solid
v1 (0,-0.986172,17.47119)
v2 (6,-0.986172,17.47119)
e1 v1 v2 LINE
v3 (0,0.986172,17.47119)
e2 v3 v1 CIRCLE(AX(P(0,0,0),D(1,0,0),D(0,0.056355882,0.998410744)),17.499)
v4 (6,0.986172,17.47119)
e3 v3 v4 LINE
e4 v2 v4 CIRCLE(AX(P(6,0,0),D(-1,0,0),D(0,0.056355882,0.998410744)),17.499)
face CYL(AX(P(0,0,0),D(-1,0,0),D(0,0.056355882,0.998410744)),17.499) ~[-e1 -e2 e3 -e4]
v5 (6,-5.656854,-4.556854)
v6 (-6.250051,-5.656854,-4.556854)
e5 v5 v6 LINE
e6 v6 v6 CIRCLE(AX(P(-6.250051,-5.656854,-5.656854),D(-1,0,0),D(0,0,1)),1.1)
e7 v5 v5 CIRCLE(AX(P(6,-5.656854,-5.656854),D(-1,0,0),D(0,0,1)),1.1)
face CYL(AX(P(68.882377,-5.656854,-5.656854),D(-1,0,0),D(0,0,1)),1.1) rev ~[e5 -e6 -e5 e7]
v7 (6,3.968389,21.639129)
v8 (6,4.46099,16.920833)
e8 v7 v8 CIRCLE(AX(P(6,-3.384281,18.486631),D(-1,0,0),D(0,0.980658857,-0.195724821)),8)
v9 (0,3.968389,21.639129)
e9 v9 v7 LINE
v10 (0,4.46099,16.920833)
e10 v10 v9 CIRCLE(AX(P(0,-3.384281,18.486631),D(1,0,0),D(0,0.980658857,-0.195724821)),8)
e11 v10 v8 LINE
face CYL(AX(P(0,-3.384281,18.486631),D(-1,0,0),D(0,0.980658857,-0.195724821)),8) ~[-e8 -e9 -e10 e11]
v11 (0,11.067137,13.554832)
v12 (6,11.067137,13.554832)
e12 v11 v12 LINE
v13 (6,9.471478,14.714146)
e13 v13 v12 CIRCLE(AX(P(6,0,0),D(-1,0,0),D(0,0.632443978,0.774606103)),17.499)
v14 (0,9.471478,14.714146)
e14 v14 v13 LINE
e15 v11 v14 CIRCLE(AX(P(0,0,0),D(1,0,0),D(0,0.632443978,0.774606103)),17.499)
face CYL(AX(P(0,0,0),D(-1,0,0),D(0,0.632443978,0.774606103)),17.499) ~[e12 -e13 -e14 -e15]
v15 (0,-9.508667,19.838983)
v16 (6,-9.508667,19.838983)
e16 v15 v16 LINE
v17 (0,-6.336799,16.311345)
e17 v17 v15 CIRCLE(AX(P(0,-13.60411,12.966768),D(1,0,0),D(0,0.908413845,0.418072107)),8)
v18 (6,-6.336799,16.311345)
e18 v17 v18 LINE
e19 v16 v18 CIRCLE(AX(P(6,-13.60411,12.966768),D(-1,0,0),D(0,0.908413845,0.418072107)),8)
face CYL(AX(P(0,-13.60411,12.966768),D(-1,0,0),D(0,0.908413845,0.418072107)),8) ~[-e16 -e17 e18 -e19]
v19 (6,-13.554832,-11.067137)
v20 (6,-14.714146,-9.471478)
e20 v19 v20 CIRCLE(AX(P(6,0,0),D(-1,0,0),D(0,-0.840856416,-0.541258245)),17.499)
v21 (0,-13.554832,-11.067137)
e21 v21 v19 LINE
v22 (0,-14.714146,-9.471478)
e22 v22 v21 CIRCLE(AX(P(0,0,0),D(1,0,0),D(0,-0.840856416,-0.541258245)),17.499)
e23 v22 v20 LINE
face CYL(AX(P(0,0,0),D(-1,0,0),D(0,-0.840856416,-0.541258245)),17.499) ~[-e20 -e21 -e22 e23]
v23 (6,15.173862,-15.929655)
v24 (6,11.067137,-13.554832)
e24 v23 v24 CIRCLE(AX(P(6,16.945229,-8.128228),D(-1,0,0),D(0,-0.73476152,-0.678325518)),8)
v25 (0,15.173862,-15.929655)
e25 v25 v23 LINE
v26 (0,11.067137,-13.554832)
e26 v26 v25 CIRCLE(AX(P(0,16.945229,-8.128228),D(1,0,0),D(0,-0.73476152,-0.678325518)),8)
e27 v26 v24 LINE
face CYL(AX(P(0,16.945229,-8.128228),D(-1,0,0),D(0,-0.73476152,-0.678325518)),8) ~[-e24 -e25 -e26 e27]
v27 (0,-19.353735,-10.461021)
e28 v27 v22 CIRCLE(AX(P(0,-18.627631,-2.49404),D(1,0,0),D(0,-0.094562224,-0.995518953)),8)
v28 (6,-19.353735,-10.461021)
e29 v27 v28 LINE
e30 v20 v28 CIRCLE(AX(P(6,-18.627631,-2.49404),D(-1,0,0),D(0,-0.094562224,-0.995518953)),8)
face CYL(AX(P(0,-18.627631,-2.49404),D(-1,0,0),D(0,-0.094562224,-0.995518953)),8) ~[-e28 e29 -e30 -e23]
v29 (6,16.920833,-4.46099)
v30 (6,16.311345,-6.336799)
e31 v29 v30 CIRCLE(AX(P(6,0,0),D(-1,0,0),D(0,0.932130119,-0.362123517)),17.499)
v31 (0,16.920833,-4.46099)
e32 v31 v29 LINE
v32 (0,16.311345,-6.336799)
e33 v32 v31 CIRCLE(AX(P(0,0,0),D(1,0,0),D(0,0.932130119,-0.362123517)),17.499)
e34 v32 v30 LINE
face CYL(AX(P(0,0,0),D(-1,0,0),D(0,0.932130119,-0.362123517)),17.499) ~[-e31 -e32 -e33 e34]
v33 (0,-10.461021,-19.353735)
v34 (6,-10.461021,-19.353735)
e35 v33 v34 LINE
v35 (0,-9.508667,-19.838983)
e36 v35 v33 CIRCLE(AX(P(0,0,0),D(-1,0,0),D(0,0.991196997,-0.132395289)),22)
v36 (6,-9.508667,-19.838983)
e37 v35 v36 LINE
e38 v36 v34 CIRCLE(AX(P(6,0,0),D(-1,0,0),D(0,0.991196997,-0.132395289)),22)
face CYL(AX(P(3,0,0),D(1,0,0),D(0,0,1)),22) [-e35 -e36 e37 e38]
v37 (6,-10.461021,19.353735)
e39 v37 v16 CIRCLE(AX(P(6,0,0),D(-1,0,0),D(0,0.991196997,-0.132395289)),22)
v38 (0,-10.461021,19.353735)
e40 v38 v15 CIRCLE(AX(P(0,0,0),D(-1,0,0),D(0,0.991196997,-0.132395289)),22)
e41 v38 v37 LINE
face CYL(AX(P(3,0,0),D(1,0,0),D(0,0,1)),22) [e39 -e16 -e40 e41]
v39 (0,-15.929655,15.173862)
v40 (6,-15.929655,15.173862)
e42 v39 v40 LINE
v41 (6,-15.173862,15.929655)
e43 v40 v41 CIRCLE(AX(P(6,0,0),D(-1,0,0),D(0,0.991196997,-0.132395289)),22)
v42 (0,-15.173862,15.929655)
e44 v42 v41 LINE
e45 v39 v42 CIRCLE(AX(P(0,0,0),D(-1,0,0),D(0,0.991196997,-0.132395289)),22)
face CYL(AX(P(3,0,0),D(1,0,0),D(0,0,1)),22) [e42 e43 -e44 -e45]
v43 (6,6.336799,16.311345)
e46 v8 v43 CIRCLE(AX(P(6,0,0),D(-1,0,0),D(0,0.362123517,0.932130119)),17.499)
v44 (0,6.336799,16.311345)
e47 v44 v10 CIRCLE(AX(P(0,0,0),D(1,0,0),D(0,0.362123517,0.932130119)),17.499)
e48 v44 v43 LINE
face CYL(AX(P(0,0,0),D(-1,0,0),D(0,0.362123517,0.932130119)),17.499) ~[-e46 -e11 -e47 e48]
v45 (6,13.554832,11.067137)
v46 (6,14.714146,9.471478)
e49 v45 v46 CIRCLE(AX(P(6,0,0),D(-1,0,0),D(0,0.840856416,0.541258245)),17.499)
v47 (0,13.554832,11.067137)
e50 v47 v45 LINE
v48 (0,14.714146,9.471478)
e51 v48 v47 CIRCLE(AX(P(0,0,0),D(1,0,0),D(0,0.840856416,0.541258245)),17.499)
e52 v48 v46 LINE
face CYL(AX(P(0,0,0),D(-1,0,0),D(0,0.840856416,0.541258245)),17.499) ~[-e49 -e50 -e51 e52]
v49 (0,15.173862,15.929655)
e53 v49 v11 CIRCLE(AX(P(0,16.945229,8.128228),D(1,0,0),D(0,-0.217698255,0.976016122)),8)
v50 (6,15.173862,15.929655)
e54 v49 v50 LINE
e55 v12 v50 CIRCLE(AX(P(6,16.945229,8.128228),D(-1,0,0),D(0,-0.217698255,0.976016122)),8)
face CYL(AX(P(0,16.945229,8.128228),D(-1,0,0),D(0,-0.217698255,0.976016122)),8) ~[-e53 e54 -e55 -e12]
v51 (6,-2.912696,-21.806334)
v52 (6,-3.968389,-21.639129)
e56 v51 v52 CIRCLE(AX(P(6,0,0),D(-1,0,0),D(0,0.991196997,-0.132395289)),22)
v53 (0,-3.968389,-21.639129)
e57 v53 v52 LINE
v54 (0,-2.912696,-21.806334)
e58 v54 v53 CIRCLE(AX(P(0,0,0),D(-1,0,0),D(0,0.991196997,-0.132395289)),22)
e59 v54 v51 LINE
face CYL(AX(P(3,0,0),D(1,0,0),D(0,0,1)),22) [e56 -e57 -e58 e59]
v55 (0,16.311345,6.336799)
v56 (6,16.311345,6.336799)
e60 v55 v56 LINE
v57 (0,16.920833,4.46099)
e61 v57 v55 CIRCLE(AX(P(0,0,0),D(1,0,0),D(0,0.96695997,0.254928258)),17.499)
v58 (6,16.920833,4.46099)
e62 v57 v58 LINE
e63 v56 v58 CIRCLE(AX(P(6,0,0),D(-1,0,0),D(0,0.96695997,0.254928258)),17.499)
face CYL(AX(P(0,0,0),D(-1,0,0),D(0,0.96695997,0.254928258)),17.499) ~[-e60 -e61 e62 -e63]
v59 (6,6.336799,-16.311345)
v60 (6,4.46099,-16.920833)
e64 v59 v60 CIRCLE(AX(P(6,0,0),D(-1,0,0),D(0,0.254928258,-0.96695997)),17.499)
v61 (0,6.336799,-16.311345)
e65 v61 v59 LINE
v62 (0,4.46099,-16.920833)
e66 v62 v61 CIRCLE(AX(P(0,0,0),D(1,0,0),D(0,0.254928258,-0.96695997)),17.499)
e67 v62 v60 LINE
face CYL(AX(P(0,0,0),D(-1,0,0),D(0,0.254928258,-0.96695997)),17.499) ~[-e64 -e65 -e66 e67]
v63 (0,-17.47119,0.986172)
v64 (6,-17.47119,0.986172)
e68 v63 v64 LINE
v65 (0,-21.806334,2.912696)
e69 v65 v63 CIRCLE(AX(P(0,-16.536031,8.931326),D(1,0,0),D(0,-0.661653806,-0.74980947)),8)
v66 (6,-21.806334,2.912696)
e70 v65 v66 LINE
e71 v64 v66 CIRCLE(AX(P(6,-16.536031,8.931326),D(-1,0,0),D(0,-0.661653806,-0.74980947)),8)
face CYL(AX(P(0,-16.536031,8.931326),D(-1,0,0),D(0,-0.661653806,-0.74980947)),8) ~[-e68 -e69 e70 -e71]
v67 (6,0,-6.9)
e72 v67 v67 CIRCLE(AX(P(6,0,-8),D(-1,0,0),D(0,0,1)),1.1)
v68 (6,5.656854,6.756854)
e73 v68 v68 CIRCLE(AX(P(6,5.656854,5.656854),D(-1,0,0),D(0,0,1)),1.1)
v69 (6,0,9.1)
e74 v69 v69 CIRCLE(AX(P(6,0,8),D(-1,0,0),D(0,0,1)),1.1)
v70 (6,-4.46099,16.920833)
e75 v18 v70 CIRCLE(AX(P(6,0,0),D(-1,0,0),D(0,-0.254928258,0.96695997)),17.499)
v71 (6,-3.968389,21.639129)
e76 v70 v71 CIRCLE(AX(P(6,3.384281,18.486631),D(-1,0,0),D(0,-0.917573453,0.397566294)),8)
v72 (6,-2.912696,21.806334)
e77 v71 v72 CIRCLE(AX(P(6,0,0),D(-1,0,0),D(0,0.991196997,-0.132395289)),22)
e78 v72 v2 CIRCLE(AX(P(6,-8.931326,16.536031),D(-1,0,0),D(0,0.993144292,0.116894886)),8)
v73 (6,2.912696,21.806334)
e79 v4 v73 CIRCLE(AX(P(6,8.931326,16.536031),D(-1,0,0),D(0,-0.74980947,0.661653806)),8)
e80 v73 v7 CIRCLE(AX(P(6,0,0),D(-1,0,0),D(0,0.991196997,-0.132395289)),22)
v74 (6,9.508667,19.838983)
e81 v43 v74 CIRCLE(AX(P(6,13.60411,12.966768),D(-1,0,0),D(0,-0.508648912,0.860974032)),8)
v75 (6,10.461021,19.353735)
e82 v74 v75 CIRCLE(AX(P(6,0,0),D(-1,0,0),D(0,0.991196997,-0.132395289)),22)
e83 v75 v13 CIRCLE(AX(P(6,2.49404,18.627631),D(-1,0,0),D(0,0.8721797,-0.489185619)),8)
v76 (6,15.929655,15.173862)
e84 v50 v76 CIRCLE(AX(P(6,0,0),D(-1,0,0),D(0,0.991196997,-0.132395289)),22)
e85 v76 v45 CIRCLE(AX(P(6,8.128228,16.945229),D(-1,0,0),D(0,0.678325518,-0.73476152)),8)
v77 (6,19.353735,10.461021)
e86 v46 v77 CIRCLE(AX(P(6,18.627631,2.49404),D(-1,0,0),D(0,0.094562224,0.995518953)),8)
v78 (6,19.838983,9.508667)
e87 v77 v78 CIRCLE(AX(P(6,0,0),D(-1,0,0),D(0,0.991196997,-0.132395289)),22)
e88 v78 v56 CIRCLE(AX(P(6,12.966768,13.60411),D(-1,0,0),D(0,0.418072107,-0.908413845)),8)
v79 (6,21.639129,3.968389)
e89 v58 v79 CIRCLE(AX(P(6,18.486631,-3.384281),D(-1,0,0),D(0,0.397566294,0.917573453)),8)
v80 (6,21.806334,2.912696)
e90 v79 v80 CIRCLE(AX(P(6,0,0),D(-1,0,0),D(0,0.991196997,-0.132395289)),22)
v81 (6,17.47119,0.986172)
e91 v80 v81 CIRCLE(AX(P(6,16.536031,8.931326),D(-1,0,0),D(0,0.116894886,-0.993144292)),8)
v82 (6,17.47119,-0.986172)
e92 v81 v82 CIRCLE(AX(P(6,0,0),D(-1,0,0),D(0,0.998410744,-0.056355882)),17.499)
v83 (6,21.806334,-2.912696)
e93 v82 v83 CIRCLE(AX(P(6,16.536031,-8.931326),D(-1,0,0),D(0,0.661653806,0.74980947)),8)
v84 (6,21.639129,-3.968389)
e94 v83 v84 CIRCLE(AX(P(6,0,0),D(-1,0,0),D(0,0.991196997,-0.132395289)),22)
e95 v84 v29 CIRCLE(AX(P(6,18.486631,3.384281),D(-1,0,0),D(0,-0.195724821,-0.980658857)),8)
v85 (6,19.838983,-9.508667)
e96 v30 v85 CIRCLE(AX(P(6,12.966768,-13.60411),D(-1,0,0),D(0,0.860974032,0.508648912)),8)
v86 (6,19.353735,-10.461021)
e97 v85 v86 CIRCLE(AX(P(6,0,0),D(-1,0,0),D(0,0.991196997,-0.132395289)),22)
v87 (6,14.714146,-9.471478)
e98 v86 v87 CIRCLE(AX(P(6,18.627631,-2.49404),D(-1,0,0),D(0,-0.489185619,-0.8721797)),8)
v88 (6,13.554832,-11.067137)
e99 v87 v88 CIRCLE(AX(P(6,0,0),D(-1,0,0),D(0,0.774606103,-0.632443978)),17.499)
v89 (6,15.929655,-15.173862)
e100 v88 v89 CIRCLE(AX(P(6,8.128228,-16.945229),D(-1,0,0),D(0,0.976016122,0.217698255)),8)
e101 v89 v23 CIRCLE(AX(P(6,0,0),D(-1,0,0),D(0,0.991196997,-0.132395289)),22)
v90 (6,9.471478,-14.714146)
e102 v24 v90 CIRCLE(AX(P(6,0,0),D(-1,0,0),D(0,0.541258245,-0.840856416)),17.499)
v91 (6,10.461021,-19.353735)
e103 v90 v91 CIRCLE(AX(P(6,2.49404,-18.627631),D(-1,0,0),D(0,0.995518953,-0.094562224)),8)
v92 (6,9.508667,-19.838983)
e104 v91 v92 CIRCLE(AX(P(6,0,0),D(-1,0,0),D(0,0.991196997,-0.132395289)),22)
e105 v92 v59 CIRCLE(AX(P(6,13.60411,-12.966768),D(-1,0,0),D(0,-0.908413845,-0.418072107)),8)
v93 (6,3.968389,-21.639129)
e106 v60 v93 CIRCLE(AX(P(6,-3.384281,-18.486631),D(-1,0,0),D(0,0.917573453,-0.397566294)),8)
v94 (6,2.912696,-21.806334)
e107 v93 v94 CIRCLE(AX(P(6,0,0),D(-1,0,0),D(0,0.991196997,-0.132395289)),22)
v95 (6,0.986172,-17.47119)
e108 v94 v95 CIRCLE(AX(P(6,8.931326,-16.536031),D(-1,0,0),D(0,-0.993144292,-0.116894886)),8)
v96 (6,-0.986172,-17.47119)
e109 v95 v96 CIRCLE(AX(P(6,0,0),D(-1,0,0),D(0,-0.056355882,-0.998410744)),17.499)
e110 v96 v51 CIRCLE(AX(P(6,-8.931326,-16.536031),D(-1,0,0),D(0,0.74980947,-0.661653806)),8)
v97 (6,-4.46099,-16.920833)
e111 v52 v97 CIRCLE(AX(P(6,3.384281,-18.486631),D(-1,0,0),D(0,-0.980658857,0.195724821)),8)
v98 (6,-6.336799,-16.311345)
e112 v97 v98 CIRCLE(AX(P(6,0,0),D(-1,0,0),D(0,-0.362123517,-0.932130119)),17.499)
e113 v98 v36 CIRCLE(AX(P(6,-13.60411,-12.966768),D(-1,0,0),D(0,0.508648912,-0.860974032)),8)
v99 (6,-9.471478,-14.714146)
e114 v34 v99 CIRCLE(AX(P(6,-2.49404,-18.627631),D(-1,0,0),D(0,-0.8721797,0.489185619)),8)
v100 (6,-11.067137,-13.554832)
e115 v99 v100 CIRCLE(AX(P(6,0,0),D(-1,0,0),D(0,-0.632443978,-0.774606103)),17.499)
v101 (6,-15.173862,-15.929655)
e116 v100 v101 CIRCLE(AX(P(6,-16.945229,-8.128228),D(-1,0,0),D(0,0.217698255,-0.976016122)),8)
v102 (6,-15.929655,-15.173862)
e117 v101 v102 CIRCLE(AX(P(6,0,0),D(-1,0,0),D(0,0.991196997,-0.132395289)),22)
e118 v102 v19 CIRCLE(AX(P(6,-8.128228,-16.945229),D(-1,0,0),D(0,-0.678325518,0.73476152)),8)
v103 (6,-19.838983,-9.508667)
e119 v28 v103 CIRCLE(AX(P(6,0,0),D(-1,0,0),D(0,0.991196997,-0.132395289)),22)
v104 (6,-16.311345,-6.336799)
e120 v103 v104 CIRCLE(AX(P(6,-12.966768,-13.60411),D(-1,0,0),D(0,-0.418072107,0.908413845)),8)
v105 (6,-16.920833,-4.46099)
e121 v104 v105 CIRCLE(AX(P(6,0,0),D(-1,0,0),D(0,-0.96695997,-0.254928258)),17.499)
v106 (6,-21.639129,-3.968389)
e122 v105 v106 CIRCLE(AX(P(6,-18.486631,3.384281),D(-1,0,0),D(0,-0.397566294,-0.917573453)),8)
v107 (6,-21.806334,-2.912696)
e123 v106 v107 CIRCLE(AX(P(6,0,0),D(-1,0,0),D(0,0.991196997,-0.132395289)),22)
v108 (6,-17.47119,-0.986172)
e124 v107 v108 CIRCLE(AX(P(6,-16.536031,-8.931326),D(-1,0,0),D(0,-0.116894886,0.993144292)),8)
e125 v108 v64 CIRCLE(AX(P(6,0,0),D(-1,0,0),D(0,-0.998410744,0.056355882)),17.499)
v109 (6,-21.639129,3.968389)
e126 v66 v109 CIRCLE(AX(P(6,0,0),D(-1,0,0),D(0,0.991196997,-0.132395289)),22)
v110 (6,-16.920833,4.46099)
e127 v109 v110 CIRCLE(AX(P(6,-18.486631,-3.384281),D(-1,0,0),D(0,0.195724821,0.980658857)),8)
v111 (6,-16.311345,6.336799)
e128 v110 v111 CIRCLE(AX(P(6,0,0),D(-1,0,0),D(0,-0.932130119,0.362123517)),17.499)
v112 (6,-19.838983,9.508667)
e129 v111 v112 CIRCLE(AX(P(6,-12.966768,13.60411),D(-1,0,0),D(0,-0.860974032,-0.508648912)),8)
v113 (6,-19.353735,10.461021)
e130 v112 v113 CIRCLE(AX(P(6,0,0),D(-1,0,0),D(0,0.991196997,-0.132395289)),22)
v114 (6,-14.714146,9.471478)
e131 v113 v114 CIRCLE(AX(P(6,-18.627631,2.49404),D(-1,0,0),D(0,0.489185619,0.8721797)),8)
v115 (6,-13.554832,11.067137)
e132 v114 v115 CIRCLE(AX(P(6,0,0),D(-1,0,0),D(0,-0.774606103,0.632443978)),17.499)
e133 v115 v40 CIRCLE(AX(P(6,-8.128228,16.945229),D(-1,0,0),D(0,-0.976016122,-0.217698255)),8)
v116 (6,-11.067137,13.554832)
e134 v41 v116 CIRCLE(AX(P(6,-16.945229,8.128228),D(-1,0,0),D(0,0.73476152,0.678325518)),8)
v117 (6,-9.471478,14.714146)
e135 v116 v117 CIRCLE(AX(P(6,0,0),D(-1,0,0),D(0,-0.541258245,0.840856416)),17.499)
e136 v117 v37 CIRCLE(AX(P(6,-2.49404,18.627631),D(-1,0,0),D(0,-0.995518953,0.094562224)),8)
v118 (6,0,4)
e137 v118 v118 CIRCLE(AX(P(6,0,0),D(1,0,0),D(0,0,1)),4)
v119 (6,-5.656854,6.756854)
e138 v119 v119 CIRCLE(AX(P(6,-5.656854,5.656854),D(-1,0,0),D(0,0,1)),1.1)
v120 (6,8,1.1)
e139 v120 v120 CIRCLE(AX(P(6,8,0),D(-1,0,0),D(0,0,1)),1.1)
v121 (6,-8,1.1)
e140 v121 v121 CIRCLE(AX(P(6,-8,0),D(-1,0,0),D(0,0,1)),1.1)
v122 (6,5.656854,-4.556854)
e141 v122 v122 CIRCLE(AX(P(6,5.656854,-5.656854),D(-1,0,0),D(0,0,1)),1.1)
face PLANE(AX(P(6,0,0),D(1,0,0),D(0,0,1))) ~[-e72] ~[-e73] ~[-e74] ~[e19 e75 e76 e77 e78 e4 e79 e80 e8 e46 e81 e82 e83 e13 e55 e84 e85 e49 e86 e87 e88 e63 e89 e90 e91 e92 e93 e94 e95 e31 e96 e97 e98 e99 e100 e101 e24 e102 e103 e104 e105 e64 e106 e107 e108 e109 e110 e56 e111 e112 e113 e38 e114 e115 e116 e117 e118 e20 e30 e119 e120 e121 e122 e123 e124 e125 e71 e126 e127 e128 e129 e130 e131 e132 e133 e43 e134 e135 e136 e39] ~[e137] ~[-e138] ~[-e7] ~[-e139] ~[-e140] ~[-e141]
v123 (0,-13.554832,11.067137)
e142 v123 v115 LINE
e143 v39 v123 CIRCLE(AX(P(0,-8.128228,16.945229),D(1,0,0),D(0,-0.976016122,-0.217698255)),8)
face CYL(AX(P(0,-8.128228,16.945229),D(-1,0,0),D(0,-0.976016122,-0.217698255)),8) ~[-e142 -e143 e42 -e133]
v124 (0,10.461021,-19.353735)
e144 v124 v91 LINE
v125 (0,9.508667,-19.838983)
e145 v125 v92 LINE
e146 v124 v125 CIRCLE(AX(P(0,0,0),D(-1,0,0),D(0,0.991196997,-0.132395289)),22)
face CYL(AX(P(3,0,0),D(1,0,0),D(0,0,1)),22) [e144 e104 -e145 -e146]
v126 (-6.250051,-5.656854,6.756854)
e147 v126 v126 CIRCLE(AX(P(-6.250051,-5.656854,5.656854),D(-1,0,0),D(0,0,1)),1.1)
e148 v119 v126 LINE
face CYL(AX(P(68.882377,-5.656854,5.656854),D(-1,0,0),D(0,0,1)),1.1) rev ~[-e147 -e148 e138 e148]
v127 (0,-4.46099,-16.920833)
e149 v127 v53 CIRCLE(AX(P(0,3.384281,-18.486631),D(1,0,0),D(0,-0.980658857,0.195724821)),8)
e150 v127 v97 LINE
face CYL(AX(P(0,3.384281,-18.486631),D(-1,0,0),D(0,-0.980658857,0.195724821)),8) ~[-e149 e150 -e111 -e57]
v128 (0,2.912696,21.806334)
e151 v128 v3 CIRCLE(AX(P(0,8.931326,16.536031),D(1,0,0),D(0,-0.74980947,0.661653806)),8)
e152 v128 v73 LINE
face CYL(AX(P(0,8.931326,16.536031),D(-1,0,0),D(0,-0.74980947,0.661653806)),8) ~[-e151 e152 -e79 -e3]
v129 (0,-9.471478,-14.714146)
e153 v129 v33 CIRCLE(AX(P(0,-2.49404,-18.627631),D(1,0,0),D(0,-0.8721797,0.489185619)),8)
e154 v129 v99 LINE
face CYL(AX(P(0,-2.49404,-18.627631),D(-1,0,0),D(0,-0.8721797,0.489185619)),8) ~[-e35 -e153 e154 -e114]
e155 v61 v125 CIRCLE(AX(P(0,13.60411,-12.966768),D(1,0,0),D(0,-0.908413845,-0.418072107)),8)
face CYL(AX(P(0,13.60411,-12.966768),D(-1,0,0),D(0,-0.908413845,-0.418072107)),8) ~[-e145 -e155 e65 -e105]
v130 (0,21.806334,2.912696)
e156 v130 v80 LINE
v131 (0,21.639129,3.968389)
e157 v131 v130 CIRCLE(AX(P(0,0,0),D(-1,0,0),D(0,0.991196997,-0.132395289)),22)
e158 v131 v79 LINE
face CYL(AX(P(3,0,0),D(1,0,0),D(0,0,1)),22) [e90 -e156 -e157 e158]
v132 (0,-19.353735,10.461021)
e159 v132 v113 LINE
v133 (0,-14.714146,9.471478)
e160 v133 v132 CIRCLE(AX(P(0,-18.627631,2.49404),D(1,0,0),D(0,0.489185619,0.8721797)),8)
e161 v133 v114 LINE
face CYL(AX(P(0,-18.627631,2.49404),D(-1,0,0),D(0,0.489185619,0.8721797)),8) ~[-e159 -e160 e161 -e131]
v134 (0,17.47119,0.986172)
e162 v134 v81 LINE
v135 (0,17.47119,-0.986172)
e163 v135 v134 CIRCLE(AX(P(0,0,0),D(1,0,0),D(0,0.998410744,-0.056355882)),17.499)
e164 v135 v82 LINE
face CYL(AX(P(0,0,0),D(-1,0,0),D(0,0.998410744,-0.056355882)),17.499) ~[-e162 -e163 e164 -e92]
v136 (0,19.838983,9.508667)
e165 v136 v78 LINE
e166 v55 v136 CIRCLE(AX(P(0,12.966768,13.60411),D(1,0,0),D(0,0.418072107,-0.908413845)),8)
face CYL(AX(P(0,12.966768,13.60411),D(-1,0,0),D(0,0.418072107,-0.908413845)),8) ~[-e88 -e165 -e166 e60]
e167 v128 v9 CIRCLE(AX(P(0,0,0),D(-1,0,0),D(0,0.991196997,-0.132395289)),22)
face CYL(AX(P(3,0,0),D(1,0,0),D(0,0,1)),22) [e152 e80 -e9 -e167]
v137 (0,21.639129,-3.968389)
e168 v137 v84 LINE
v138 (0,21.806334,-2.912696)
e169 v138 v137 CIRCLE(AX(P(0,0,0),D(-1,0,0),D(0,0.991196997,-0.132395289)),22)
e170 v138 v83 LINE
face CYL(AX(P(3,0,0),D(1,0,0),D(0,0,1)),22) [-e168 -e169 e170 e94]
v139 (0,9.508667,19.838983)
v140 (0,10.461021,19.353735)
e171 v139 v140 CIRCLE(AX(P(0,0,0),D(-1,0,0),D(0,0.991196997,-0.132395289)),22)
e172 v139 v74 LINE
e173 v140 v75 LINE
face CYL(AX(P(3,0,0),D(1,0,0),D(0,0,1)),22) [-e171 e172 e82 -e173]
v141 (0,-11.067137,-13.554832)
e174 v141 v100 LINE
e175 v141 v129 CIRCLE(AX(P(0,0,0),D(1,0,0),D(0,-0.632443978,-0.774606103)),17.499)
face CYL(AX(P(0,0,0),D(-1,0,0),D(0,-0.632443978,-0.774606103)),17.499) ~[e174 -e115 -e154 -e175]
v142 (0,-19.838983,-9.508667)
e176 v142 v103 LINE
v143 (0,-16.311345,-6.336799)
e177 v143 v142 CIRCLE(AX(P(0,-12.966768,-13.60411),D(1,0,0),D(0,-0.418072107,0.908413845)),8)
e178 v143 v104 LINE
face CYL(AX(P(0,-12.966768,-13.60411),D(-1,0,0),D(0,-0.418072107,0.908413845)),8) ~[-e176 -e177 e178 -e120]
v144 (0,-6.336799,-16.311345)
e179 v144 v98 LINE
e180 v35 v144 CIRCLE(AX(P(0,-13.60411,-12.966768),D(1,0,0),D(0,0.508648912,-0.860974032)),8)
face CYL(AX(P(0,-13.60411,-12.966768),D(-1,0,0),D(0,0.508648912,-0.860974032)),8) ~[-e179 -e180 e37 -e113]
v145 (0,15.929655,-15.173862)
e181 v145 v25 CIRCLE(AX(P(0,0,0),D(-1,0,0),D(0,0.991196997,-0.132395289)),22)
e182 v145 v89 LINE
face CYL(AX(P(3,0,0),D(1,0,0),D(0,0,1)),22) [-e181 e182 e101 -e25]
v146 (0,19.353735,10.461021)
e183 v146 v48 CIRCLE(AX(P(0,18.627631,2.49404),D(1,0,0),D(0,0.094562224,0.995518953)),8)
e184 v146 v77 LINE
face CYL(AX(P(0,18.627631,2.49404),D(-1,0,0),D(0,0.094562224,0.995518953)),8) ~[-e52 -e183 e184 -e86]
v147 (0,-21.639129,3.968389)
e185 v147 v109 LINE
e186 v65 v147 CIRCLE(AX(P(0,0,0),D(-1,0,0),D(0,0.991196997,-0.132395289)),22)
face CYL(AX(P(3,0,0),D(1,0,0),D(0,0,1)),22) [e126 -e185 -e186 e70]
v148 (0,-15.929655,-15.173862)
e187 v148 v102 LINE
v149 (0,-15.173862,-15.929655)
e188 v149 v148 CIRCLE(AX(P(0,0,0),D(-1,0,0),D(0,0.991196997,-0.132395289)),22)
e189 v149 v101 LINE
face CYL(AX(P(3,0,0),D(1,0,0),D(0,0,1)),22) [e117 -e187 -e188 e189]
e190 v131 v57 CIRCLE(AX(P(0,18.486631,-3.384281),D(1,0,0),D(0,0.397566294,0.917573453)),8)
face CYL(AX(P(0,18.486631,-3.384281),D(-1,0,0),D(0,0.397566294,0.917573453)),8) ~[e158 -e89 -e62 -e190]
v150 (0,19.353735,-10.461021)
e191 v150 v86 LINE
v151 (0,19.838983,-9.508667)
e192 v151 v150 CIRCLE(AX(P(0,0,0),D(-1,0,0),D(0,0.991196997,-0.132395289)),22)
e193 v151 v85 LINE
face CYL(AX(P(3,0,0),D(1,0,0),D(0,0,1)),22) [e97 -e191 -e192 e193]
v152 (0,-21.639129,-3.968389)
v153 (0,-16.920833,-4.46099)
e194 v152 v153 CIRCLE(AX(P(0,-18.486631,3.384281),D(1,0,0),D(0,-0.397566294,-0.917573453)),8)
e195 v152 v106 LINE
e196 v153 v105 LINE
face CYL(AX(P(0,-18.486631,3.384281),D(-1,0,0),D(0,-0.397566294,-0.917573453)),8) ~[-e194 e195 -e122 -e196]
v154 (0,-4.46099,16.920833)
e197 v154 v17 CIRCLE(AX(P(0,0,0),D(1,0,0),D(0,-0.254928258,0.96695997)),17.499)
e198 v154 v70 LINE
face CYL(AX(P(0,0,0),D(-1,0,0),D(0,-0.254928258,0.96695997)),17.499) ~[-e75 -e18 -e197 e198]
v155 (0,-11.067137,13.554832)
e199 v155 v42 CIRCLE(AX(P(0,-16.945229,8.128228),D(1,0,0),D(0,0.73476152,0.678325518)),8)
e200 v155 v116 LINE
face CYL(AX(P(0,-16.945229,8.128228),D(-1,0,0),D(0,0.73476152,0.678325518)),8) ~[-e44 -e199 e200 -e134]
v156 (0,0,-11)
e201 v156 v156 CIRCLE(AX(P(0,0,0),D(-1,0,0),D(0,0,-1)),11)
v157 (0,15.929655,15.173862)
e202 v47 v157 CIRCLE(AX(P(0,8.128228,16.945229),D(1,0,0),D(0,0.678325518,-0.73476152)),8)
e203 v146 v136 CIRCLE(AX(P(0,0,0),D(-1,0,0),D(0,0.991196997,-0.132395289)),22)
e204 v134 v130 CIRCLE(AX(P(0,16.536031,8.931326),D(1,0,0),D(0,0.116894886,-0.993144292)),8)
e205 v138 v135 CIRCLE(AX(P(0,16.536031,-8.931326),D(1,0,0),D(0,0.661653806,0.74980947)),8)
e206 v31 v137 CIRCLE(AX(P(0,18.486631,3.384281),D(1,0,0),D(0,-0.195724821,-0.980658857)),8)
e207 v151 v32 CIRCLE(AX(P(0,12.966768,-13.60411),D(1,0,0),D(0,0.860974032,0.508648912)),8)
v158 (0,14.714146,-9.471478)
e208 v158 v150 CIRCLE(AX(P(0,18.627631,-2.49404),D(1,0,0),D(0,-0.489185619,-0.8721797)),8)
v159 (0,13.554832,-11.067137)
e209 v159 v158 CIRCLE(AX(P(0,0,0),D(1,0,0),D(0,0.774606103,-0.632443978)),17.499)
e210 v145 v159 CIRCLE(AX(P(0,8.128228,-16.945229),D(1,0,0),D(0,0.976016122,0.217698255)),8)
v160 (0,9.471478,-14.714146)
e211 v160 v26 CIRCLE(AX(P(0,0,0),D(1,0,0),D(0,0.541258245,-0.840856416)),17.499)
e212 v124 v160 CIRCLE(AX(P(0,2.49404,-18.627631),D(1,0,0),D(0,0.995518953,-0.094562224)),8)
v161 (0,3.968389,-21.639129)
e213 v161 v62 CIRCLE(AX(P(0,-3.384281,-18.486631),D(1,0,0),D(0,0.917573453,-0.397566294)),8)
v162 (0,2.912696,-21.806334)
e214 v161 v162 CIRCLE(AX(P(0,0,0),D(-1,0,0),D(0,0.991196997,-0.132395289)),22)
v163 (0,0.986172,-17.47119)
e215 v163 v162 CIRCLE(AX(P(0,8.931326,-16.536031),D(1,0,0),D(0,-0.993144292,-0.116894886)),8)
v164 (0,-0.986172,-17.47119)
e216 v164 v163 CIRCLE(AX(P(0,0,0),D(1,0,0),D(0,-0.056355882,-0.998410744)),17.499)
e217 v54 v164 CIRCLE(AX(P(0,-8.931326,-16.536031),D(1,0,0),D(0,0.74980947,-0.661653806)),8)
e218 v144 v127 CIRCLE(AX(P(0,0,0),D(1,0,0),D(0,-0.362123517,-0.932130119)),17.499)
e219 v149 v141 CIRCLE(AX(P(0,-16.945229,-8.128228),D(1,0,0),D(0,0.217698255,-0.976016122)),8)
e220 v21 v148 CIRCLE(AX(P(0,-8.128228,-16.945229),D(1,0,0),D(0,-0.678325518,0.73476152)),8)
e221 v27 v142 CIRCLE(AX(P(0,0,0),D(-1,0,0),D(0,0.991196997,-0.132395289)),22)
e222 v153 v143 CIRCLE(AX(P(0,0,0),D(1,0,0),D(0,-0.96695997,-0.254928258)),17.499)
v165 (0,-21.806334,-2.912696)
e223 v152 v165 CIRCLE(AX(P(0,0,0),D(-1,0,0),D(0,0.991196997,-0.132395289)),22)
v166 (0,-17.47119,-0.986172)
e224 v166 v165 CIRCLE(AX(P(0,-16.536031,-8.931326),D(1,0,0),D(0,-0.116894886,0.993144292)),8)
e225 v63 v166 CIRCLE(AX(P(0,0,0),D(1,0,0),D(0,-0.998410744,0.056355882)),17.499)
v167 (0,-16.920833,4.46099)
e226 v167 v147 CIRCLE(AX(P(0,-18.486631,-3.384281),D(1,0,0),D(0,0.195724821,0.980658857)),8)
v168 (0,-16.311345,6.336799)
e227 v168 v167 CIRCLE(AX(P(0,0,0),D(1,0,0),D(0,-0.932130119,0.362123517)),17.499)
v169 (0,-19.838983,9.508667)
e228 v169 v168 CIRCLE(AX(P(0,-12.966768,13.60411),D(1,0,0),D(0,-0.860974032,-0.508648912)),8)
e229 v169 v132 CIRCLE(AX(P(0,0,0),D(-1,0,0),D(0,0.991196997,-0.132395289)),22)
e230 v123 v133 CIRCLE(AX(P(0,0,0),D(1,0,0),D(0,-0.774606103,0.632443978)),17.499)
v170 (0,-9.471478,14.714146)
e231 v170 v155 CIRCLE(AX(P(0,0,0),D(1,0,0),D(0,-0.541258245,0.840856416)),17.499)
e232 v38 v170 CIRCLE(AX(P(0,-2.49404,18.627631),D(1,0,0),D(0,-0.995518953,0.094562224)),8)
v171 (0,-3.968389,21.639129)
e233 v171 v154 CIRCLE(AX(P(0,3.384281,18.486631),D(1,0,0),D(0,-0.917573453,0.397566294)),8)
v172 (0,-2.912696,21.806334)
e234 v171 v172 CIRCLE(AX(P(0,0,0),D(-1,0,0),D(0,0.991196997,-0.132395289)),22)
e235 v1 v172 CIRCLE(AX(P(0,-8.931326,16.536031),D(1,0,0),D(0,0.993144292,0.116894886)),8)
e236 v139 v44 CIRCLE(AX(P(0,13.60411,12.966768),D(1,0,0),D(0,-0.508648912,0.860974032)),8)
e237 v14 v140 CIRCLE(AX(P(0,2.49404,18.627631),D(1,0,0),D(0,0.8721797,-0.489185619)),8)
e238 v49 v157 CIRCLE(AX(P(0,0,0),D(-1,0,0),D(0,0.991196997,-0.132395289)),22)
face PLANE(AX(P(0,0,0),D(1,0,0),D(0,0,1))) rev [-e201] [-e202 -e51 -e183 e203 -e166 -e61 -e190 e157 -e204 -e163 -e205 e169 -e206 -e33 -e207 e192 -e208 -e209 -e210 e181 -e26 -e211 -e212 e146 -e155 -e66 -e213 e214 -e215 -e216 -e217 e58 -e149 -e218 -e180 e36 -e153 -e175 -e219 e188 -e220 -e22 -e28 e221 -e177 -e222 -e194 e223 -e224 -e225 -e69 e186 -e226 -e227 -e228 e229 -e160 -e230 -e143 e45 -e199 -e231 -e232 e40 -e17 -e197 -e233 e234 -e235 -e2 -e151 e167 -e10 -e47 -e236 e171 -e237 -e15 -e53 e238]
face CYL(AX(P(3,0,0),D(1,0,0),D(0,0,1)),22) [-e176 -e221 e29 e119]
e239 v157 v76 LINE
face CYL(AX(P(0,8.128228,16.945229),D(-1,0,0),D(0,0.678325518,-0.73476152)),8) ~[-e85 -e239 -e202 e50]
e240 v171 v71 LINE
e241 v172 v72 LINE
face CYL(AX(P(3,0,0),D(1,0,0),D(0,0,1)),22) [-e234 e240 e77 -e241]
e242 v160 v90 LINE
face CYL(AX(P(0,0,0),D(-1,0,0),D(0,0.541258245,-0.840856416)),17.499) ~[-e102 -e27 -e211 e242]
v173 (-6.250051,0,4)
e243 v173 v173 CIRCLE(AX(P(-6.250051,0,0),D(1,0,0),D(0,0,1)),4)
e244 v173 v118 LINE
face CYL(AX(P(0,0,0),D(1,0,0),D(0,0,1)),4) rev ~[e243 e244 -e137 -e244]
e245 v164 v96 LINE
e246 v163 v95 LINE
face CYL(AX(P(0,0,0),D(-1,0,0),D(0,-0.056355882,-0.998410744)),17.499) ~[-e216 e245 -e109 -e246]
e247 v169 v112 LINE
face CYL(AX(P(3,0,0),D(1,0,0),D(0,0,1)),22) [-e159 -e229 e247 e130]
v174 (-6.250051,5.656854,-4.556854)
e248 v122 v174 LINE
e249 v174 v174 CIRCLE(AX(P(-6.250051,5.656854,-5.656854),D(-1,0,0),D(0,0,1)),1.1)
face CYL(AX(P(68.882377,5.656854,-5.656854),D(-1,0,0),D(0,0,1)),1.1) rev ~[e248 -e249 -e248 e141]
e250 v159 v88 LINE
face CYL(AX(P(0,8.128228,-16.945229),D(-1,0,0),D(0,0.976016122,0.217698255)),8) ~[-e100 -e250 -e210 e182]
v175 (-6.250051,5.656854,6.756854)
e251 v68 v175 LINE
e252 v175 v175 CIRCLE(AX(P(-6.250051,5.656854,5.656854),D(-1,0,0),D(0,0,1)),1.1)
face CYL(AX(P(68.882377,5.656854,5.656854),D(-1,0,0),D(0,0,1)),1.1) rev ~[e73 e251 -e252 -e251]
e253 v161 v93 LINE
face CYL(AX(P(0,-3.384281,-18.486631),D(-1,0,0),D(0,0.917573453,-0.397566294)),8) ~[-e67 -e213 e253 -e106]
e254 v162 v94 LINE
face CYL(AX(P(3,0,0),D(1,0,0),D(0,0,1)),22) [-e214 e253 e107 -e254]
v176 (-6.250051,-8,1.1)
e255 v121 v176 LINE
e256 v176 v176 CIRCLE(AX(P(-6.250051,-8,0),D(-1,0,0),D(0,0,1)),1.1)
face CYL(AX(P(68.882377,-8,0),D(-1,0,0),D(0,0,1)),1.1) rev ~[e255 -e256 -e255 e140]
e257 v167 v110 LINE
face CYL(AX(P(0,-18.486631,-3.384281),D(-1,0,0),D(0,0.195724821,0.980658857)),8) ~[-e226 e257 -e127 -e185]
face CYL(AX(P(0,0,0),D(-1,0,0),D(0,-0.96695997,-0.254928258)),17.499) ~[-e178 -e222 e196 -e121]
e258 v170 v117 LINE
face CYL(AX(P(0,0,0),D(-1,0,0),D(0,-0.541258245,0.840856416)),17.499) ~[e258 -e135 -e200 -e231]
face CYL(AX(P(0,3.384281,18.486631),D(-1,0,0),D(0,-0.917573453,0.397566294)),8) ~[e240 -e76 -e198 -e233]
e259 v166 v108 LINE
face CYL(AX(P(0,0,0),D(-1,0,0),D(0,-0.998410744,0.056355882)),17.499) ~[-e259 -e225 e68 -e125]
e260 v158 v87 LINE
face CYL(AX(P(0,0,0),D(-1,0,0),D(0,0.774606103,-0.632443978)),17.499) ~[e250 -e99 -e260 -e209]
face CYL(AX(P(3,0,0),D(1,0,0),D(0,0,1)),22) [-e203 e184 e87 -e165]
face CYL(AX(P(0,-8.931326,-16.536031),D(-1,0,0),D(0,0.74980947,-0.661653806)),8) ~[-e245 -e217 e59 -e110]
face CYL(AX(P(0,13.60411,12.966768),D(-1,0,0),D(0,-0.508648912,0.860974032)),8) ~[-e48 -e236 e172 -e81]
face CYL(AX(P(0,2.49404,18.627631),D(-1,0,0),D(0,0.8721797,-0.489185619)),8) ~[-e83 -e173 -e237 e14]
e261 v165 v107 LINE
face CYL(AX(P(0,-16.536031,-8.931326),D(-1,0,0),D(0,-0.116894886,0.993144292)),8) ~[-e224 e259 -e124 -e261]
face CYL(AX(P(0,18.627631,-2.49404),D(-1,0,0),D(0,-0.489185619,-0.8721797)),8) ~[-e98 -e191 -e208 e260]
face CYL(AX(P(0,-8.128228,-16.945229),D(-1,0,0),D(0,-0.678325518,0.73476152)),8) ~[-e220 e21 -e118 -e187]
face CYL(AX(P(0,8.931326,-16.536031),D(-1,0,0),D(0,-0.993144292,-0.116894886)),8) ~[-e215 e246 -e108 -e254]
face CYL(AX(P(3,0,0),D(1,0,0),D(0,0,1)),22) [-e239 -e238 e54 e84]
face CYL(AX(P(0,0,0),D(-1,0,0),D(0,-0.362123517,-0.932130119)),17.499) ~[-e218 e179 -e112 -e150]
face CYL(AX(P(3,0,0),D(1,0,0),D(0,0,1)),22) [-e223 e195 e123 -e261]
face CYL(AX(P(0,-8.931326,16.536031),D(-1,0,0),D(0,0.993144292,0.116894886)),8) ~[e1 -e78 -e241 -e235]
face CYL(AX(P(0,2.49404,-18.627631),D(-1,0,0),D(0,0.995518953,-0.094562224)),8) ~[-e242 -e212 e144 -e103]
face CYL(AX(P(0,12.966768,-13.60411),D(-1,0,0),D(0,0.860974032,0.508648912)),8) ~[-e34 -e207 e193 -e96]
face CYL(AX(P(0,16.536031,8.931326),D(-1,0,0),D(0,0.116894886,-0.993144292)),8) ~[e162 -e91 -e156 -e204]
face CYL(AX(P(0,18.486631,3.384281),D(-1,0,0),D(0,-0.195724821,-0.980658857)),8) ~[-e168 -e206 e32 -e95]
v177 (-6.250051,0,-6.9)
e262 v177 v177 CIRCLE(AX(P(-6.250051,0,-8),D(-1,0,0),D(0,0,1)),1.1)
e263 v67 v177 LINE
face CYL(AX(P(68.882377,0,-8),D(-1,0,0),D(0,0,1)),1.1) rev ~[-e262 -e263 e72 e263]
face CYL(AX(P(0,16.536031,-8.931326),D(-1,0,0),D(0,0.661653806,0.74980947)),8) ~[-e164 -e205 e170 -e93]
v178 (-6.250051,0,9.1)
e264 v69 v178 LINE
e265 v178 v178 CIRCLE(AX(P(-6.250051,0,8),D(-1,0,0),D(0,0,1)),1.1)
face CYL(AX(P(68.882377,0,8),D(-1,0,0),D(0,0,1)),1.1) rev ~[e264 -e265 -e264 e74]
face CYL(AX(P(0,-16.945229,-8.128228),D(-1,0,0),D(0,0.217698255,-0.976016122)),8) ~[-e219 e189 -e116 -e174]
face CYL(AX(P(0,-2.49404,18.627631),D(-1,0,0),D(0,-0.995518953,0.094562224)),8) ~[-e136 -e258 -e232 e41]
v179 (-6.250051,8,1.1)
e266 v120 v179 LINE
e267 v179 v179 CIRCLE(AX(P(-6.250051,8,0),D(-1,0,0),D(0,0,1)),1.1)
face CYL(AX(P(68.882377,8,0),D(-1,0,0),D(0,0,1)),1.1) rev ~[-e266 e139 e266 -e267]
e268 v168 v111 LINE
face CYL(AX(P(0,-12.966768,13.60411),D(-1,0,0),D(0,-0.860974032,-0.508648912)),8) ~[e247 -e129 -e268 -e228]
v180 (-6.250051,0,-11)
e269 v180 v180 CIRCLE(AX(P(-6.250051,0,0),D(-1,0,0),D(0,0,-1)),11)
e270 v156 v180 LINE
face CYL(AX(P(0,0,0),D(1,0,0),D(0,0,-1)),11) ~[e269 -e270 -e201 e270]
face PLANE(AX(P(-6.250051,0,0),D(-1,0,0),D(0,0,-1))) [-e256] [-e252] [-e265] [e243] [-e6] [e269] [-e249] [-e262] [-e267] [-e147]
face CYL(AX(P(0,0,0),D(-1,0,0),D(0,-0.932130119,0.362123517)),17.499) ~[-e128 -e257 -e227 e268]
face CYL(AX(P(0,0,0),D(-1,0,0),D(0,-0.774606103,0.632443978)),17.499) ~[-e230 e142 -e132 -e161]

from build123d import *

# Parameters (mm, degrees)
BASPROSKE_W          = 6
BASPROSKE_H          = 22
TOOTHCUT_DEPTH       = 32.685959036
TEETHCUTS_COUNT      = 20
TEETHCUTS_ANGLE      = 342
HUBNEAONESKE_R       = 11
HUBNEARONE_DEPTH     = 6.2500508
BORSKE_R             = 4
BORE_DEPTH           = 12.2500508
M2_CLEARANCE_HOLE1_D = 2.2


with BuildPart() as part:
    # BasProSke → Base-Revolve (revolve)
    with BuildSketch(Plane(origin=(0, 0, 0), x_dir=(1, 0, 0), z_dir=(0, 1, 0)), mode=Mode.PRIVATE) as base_revolve_sk:
        with Locations((3, 11)):
            Rectangle(BASPROSKE_W, BASPROSKE_H)
    revolve(base_revolve_sk.sketch.rotate(Axis((-10, 0, 0), (1, 0, 0)), 180), axis=Axis((-10, 0, 0), (1, 0, 0)))

    # TooCutSke → ToothCut (cut, through all)
    with BuildSketch(Plane(origin=(0, 0, 0), x_dir=(0, 0, -1), z_dir=(1, 0, 0))):
        with BuildLine():
            ThreePointArc((0.986171591, 17.471189616), (0, 17.499), (-0.986171591, 17.471189616))
            ThreePointArc((-0.986171591, 17.471189616), (-1.626916196, 19.798789858), (-2.932850173, 21.829260982))
            ThreePointArc((-2.932850173, 21.829260982), (0, 22.0254), (2.932850173, 21.829260982))
            ThreePointArc((2.932850173, 21.829260982), (1.626916196, 19.798789858), (0.986171591, 17.471189616))
        make_face()
    toothcut = extrude(amount=TOOTHCUT_DEPTH, mode=Mode.SUBTRACT)

    # TeethCuts: ToothCut ×20 about axis
    teethcuts_axis = Axis((-10, 0, 0), (1, 0, 0))
    for i in range(1, TEETHCUTS_COUNT):
        add(toothcut.rotate(teethcuts_axis, i * TEETHCUTS_ANGLE / (TEETHCUTS_COUNT - 1)), mode=Mode.SUBTRACT)

    # HubNeaOneSke → HubNearOne (add)
    with BuildSketch(Plane.ZY):
        with Locations(Location((0, 0, 0), (0, 0, 180))):
            Circle(HUBNEAONESKE_R)
    extrude(amount=HUBNEARONE_DEPTH)

    # BorSke → Bore (cut, symmetric)
    with BuildSketch(Plane(origin=(0, 0, 0), x_dir=(0, 0, -1), z_dir=(1, 0, 0))):
        with Locations(Location((0, 0, 0), (0, 0, 180))):
            Circle(BORSKE_R)
    extrude(amount=BORE_DEPTH, both=True, mode=Mode.SUBTRACT)

    # M2 Clearance Hole1 (through all)
    with Locations(Plane(origin=(6, 0, 0), x_dir=(0, 0, -1), z_dir=(1, 0, 0))):
        with Locations((0, 8), (5.656854249, 5.656854249), (8, 0), (5.656854249, -5.656854249), (0, -8), (-5.656854249, -5.656854249), (-8, 0), (-5.656854249, 5.656854249)):
            Hole(M2_CLEARANCE_HOLE1_D / 2)


solid = part.part
